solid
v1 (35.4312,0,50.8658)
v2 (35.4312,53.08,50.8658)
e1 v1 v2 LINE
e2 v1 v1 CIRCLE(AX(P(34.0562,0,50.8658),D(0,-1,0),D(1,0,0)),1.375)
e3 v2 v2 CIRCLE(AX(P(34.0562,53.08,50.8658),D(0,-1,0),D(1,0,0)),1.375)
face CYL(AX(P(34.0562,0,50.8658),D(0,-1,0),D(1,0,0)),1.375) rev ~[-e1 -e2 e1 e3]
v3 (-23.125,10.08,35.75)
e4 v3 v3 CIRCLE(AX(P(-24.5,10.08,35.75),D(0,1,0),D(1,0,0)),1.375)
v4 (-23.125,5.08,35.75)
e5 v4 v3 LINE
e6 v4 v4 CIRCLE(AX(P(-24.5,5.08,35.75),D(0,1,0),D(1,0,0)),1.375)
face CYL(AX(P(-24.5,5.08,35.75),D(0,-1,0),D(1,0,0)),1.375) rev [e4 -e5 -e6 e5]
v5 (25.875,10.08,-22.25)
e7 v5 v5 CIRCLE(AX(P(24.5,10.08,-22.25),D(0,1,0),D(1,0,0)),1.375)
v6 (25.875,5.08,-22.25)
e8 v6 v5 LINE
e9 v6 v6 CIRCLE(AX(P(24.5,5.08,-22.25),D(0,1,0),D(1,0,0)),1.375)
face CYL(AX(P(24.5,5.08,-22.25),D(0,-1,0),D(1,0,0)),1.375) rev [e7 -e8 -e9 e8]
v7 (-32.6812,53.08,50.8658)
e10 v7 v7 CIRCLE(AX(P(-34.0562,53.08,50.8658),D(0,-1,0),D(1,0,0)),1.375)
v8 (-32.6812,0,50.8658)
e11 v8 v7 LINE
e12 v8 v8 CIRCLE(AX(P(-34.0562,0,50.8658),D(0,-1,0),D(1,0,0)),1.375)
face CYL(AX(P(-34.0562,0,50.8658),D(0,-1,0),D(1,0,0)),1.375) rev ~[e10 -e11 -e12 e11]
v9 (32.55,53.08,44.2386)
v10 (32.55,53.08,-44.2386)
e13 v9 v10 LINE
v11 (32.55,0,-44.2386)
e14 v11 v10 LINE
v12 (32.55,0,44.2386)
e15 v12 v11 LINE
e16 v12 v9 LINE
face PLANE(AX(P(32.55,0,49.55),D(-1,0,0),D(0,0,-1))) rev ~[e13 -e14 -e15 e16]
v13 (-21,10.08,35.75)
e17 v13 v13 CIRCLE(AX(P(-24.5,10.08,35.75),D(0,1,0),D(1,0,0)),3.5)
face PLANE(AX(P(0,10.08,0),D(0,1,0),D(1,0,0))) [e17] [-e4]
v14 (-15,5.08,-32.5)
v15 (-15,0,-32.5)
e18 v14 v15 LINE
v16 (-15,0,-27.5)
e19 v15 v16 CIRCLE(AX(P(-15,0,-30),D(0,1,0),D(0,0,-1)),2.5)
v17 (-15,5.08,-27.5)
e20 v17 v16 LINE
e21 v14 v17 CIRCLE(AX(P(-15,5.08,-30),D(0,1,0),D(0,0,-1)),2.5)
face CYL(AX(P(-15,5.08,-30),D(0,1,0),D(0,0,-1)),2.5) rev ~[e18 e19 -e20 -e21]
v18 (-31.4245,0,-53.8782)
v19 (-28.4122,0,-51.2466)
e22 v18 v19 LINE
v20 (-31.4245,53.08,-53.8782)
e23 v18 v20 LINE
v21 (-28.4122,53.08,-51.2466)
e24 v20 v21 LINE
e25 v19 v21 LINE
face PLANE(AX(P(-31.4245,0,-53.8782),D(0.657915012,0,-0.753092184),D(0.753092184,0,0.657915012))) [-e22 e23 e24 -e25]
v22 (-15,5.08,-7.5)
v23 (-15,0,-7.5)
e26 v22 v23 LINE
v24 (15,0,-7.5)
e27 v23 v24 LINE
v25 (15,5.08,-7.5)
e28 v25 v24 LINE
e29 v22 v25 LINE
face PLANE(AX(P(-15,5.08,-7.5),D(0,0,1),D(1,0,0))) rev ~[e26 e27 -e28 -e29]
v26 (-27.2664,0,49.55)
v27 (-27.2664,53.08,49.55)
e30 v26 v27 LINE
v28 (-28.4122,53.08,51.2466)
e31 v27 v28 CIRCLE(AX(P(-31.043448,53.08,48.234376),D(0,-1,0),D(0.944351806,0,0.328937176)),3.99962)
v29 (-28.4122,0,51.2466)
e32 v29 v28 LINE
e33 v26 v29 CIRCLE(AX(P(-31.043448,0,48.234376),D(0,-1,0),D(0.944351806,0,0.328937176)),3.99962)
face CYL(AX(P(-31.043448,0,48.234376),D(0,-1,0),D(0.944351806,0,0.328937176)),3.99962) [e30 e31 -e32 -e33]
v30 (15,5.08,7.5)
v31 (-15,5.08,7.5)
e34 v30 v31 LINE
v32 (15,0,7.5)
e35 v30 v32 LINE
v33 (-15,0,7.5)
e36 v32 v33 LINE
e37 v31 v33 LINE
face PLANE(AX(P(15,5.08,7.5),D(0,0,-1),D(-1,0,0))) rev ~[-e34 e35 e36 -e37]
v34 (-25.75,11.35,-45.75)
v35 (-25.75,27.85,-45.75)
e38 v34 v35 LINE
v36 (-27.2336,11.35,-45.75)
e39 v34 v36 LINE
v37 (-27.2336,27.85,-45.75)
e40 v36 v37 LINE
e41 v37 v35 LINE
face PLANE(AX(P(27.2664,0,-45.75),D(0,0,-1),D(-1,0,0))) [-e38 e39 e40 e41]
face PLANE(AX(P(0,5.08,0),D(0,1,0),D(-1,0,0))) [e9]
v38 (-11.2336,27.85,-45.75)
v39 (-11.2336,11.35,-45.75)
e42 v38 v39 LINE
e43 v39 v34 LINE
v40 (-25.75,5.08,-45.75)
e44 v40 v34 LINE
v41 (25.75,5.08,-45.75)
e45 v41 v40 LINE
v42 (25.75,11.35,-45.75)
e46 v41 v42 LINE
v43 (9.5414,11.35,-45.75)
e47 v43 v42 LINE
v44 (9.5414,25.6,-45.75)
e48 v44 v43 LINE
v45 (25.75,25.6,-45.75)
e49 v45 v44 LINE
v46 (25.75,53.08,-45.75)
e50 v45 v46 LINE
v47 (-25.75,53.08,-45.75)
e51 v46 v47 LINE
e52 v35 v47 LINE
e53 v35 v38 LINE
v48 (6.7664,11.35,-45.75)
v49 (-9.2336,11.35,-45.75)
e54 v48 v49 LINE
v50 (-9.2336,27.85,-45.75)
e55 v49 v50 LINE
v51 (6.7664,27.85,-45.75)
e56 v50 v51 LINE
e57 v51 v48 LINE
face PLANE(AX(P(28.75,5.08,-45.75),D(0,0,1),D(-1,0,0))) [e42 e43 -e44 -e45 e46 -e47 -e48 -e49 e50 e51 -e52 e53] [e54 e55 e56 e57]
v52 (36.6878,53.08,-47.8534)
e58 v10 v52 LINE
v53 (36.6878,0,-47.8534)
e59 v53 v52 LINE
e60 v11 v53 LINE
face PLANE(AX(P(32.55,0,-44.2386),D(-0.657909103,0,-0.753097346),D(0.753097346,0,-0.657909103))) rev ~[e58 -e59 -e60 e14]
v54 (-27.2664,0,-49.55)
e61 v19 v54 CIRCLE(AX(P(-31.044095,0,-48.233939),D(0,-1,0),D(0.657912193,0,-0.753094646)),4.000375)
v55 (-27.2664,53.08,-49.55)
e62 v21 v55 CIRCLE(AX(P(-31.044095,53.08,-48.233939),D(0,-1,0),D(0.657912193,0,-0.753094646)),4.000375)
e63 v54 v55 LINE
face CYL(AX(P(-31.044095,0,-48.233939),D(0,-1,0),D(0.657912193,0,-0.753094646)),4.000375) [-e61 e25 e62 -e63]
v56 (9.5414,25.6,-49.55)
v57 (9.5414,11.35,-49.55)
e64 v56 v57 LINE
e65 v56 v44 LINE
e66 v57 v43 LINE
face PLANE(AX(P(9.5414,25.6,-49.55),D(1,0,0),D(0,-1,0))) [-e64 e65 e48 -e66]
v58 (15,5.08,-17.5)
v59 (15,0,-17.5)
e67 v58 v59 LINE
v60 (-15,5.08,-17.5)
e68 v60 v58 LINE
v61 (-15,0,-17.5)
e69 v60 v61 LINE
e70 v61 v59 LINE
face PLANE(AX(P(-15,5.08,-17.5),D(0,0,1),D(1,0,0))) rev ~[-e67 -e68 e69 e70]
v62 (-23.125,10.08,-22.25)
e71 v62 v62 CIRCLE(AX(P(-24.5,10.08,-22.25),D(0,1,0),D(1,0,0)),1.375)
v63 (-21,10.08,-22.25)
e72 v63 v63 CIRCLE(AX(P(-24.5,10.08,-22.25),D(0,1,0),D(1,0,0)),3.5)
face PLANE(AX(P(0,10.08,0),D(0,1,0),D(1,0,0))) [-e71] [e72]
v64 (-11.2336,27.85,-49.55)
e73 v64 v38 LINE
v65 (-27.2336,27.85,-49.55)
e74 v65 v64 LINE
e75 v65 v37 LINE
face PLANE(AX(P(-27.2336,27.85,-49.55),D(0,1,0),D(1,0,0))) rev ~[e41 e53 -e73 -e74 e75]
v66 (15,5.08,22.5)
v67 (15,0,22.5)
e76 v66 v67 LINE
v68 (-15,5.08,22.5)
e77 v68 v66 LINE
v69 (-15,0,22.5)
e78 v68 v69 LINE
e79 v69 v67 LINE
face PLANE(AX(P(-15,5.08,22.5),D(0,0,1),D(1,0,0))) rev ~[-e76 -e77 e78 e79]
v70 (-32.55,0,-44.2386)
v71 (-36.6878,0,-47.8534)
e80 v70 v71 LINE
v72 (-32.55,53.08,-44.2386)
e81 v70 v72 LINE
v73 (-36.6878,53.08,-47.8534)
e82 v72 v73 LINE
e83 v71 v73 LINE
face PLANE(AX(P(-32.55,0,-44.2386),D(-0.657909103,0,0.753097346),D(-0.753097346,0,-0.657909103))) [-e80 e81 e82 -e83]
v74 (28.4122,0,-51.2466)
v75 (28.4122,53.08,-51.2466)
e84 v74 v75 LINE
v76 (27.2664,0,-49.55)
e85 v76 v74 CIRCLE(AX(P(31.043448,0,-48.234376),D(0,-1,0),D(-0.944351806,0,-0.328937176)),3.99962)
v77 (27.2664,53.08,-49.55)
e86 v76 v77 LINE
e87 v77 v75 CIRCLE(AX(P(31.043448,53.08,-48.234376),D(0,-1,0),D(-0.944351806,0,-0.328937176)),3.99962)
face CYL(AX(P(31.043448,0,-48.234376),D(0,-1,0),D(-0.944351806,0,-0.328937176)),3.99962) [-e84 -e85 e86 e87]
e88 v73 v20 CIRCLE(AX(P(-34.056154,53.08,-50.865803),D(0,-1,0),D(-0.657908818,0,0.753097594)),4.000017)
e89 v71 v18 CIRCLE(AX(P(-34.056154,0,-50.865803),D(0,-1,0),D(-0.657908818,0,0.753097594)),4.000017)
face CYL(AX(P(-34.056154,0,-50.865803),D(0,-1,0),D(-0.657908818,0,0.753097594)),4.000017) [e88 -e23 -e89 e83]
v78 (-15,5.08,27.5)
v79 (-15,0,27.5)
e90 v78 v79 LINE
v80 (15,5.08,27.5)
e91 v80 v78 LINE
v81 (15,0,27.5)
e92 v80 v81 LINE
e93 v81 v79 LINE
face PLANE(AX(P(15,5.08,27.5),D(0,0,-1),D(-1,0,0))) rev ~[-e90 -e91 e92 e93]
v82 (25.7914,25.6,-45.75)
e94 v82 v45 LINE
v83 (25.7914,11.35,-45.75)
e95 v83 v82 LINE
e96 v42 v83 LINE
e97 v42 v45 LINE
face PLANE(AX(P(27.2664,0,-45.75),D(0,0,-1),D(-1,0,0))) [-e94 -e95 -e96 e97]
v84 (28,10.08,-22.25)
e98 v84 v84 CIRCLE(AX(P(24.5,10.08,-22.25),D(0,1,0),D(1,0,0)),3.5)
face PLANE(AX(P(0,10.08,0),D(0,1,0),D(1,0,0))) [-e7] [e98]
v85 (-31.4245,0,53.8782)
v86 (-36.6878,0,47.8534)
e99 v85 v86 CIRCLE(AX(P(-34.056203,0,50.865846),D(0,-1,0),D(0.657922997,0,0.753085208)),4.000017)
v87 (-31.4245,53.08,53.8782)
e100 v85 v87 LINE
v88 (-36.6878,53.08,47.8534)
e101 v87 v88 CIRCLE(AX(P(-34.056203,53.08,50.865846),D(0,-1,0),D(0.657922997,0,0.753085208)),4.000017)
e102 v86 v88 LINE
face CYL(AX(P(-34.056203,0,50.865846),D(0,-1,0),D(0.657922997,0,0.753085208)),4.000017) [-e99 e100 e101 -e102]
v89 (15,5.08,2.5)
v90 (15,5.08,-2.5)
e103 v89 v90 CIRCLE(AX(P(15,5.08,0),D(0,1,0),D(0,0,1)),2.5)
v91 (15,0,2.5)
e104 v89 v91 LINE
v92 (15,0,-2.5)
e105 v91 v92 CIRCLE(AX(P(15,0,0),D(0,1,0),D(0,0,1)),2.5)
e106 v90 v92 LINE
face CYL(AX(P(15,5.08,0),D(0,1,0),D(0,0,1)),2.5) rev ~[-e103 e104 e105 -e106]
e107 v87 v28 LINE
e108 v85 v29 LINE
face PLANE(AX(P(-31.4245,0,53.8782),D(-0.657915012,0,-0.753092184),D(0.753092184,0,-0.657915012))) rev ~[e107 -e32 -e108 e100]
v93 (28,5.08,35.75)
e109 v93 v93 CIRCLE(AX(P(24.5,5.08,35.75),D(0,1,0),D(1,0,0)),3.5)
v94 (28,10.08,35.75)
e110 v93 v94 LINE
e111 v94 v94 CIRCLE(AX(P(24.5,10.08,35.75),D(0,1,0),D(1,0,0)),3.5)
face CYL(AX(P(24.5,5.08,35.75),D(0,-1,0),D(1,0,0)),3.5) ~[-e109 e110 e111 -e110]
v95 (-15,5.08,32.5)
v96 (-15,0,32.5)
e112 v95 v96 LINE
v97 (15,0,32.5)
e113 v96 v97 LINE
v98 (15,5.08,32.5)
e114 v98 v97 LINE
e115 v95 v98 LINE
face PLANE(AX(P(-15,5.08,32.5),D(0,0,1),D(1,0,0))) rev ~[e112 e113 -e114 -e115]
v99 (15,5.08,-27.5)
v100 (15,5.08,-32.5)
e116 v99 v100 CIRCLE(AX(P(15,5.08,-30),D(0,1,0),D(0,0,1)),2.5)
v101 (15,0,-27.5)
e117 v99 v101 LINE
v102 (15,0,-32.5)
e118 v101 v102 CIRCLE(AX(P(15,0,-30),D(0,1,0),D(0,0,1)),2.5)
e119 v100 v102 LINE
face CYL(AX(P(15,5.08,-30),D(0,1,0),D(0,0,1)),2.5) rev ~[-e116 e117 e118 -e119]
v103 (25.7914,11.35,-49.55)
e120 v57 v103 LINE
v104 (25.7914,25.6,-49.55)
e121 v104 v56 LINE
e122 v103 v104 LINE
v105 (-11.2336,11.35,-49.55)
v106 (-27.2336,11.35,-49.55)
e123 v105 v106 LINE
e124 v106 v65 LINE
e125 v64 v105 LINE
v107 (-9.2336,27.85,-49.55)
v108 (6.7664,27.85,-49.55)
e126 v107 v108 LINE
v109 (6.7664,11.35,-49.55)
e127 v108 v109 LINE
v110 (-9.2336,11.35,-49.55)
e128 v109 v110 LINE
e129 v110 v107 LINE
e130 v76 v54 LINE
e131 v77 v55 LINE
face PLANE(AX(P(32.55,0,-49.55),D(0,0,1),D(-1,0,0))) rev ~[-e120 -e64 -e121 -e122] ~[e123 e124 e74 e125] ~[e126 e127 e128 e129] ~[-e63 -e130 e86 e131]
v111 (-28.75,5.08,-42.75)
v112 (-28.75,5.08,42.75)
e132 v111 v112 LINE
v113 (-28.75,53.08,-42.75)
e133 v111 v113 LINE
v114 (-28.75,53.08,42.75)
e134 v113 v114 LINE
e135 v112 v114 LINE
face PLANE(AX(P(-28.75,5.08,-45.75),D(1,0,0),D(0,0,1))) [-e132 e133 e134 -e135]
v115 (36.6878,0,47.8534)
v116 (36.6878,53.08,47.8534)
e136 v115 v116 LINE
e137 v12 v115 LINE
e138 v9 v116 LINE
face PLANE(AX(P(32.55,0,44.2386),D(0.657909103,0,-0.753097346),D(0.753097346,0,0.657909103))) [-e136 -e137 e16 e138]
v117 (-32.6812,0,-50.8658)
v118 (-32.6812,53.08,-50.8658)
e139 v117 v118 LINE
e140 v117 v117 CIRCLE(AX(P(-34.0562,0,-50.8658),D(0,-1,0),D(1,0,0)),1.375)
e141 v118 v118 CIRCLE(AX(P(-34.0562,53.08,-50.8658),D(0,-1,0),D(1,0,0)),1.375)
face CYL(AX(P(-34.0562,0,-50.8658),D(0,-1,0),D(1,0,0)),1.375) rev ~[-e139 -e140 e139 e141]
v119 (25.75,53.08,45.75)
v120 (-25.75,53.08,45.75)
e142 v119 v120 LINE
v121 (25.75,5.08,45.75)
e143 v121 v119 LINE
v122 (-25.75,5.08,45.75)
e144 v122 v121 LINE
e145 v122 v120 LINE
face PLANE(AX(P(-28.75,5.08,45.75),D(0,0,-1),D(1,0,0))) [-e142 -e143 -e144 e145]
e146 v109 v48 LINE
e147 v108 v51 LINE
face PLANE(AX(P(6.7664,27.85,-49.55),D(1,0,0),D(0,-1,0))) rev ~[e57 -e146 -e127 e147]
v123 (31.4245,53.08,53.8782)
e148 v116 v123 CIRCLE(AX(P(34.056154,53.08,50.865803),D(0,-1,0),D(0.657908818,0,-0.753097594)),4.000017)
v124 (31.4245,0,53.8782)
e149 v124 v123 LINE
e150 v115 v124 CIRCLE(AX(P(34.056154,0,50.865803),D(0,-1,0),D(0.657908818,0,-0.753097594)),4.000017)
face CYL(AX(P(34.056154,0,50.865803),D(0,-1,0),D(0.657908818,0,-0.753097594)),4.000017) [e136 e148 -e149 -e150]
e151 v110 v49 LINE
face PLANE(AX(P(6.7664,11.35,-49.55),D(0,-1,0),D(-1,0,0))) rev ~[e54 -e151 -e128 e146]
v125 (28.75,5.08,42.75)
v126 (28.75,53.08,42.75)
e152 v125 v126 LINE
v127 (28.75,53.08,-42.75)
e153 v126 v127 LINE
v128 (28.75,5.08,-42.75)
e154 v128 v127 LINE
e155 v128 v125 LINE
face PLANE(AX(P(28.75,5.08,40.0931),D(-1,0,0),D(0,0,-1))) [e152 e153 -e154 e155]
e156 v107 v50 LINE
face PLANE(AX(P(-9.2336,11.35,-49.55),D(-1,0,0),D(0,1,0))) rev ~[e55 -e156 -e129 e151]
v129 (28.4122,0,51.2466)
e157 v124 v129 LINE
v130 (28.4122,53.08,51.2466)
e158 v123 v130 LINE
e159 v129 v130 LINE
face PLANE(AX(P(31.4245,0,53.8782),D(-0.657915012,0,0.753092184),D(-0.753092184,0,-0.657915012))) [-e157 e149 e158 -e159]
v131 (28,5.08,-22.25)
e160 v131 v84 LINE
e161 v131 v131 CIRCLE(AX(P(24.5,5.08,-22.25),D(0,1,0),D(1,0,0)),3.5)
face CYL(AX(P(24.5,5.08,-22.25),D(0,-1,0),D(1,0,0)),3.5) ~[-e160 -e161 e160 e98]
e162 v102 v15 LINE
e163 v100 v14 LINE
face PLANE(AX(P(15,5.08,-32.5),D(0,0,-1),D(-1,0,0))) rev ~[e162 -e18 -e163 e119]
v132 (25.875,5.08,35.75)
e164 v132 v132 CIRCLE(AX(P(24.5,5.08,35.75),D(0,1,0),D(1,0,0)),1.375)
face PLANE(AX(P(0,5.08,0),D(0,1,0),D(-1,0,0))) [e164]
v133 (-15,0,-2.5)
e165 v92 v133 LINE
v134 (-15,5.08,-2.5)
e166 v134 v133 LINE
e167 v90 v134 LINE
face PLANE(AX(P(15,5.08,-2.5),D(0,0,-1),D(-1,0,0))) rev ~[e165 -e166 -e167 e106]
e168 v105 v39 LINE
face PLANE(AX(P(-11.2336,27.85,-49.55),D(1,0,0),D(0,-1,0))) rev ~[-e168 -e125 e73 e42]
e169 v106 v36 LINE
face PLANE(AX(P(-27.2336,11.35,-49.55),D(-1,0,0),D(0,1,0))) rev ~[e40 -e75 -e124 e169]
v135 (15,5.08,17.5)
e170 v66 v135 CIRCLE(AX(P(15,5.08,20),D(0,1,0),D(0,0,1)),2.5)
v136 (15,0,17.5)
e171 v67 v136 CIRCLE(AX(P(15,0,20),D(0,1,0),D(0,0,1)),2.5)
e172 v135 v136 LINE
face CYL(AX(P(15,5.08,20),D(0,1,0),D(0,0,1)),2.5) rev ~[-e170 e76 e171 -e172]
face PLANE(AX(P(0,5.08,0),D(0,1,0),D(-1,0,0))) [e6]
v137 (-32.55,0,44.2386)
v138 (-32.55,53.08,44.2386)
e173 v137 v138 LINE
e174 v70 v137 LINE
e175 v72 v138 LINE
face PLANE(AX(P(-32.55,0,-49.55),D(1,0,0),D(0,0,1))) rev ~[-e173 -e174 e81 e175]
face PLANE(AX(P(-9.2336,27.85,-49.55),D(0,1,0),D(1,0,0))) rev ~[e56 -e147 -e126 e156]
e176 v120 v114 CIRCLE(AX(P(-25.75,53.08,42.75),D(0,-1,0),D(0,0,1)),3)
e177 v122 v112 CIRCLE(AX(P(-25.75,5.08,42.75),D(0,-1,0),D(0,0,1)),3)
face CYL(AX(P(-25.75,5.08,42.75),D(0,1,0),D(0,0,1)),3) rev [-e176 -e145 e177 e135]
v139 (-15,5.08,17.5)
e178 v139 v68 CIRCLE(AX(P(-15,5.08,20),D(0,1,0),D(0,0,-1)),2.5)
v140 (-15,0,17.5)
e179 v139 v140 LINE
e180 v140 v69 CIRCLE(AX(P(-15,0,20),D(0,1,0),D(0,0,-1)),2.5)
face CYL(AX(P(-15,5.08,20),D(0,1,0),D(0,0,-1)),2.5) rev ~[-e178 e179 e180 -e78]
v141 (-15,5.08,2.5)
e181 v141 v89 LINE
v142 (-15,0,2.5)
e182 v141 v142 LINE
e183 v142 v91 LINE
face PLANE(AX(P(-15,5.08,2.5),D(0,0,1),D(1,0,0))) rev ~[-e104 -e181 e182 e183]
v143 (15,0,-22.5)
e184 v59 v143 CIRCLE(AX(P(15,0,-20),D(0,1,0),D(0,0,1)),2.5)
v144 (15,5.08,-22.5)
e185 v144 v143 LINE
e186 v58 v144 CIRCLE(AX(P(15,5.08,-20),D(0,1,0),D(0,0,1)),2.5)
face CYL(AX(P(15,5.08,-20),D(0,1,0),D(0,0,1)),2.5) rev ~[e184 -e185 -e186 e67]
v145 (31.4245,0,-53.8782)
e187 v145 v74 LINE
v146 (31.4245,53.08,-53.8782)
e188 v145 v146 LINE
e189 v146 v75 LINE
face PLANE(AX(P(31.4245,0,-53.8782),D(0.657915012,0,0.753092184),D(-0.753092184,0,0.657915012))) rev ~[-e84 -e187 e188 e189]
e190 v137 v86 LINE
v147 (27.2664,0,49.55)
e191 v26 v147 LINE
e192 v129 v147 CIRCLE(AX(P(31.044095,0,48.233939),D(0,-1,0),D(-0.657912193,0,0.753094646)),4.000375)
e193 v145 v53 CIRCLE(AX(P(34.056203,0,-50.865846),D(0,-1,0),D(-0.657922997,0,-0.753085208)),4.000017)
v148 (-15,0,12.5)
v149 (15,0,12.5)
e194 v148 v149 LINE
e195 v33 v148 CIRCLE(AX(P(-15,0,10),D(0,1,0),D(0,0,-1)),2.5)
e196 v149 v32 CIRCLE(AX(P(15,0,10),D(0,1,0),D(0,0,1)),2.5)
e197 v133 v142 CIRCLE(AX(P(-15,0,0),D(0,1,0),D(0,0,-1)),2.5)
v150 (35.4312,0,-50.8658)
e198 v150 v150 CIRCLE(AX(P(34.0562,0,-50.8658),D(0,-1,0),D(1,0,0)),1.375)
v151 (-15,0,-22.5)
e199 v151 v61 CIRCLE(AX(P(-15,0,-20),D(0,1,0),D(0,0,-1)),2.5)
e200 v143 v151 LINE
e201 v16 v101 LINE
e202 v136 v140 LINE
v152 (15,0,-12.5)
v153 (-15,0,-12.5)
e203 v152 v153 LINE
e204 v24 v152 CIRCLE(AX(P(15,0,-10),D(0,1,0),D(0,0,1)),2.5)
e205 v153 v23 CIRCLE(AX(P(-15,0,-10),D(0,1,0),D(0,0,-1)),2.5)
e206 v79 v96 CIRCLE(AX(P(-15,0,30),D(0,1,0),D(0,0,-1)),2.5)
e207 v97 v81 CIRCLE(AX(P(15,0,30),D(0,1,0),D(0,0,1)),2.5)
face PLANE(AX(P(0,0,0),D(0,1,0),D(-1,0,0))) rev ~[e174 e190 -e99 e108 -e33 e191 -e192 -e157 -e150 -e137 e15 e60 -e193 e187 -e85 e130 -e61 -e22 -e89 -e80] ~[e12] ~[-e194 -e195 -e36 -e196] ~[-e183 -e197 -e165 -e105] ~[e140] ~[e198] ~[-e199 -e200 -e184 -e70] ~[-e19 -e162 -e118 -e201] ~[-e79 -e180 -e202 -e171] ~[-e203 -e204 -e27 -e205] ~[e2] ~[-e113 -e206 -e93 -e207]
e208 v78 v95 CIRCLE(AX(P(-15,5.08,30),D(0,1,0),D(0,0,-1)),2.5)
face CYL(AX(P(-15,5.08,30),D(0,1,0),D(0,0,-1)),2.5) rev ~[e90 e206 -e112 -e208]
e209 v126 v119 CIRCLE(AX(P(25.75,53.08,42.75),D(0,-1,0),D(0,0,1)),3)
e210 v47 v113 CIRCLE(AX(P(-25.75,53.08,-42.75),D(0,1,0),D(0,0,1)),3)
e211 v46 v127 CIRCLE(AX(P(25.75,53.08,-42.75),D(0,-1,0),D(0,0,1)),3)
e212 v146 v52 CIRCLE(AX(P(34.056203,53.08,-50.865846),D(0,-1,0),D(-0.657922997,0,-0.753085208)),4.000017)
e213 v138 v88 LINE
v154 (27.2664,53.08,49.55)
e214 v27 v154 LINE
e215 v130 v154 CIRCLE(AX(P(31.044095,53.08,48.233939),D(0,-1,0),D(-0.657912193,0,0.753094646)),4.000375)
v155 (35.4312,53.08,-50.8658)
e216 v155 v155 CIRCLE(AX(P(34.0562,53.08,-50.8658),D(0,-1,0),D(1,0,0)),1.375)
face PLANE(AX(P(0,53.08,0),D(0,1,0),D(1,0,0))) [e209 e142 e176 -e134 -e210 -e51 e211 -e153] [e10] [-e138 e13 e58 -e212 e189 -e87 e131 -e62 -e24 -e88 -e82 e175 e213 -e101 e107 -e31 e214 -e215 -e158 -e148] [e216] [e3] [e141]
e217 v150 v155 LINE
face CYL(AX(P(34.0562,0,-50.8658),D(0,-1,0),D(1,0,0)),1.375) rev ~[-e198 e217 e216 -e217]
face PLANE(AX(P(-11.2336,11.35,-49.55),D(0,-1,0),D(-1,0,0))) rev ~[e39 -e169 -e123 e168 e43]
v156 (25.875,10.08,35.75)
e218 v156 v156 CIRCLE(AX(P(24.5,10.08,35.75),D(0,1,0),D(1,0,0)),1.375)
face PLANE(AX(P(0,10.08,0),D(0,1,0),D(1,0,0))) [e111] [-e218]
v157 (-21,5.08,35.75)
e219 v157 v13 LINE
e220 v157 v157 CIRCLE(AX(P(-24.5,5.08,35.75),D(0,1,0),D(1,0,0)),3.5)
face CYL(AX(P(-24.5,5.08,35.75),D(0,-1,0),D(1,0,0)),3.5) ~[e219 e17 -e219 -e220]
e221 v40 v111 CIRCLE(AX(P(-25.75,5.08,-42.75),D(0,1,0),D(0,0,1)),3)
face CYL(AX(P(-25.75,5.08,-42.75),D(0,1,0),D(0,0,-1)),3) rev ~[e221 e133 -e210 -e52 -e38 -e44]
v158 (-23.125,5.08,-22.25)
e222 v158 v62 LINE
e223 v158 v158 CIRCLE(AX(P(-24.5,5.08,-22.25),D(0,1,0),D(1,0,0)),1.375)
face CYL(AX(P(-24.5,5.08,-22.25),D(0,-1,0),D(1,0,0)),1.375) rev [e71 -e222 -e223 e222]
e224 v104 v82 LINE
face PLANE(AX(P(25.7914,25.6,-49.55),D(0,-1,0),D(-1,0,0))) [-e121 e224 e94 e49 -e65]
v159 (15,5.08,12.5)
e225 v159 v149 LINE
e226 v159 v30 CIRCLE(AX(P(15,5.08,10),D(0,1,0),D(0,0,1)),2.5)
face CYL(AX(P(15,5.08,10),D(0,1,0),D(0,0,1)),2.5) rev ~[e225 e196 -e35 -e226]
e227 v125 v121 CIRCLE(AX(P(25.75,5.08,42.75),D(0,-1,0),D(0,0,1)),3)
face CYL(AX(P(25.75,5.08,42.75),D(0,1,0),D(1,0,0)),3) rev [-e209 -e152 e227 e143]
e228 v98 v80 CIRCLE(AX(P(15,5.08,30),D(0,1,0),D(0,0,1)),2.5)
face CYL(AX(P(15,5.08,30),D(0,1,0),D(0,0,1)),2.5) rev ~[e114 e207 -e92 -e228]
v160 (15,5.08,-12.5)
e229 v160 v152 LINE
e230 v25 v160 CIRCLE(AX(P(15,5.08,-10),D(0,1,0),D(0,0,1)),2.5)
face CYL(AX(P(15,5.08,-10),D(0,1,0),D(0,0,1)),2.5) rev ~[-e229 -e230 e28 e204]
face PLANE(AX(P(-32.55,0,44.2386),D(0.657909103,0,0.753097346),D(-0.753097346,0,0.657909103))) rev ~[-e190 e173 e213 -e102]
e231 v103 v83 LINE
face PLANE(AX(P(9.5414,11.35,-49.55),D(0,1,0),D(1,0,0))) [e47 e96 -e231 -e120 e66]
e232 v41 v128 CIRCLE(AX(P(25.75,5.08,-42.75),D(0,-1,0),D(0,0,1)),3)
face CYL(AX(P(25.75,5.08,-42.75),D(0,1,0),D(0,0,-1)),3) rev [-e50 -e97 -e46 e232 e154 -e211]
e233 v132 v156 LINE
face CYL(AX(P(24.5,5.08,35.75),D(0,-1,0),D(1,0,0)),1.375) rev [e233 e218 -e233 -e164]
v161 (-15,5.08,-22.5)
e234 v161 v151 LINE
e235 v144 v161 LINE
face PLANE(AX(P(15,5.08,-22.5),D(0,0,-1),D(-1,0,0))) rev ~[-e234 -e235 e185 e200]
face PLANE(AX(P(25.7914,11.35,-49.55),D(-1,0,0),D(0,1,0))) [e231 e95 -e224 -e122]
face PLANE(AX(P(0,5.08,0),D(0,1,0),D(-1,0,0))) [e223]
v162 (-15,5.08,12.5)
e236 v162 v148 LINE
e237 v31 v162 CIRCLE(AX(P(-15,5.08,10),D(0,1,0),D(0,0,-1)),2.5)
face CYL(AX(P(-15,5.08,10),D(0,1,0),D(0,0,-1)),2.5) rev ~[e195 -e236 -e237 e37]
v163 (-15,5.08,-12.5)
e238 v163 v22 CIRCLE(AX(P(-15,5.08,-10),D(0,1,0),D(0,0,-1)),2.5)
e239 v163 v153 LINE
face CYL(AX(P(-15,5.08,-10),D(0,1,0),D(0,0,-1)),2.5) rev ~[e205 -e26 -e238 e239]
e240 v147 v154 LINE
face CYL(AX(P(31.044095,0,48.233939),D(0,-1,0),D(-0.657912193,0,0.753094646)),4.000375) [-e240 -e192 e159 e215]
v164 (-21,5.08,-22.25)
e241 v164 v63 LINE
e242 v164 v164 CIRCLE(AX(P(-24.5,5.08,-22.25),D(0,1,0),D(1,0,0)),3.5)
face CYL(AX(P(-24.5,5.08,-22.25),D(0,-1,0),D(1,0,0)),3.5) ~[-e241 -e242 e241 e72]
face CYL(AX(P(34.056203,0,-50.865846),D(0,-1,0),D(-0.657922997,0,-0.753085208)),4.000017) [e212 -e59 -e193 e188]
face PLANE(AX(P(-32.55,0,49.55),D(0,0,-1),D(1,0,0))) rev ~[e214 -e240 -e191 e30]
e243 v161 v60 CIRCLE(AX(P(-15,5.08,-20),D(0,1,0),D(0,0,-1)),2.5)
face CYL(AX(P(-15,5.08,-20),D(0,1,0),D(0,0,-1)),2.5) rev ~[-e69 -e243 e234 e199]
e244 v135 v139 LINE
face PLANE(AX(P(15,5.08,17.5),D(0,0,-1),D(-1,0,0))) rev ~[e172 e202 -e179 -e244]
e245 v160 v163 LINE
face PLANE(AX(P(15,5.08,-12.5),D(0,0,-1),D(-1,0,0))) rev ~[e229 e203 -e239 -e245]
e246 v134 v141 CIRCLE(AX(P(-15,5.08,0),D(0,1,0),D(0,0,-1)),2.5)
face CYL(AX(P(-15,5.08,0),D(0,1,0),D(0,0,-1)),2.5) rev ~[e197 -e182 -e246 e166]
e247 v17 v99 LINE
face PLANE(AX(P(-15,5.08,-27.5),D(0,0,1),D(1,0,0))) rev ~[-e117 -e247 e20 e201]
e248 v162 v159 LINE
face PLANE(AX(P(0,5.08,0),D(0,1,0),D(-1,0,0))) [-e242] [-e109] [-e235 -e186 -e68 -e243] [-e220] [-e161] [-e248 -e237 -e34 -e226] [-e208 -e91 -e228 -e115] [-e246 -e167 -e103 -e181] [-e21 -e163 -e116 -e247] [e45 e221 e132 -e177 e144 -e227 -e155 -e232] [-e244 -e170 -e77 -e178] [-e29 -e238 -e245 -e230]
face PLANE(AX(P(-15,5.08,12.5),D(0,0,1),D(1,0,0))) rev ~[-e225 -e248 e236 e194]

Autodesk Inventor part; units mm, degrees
ref_plane "YZ Plane" through (0, 0, 0) normal (1, 0, 0) x (0, 1, 0)
ref_plane "XZ Plane" through (0, 0, 0) normal (0, 1, 0) x (-1, 0, 0)
ref_plane "XY Plane" through (0, 0, 0) normal (0, 0, 1) x (1, 0, 0)
sketch "Sketch1" plane through (0, 0, 0) normal (0, 1, 0) x (-1, 0, 0)
  line L0 (-32.55, -49.55) -> (32.55, -49.55)
  line L1 (32.55, -49.55) -> (32.55, 49.55)
  line L2 (32.55, 49.55) -> (-32.55, 49.55)
  line L3 (-32.55, 49.55) -> (-32.55, -49.55)
  line L4 (-32.55, -49.55) -> (32.55, 49.55) construction
  line L5 (32.55, -49.55) -> (-32.55, 49.55) construction
  point P0 (0, 0)
  dimension "d0" = 65.1
  dimension "d1" = 99.1
extrude "Extrusion1" add sketch "Sketch1" along normal blind 5.08
sketch "Sketch2" plane through (0, 5.08, 0) normal (0, 1, 0) x (1, 0, 0)
  line L0 (28.75, 45.75) -> (-28.75, 45.75)
  line L1 (-28.75, 45.75) -> (-28.75, -45.75)
  line L2 (-28.75, -45.75) -> (28.75, -45.75)
  line L3 (28.75, -45.75) -> (28.75, 45.75)
  line L4 (28.75, 45.75) -> (-28.75, -45.75) construction
  line L5 (-28.75, 45.75) -> (28.75, -45.75) construction
  line L6 (-32.55, 49.55) -> (-32.55, -49.55) projected
  line L7 (-32.55, -49.55) -> (32.55, -49.55) projected
  line L8 (32.55, 49.55) -> (-32.55, 49.55) projected
  line L9 (32.55, -49.55) -> (32.55, 49.55) projected
  line L10 (24.95, -41.95) -> (32.55, -49.55) construction
  line L11 (23.0931, -45.75) -> (29.7216, -52.3784)
  line L12 (35.3784, -46.7216) -> (28.75, -40.0931)
  arc A0 (29.7216, -52.3784) -> (35.3784, -46.7216) centre (32.55, -49.55) ccw
  circle A1 centre (32.55, -49.55) radius 1.375
  point P0 (0, 0)
  dimension "d4" = 3.8
  dimension "d5" = 3.8
  dimension "d22" = 8
  dimension "d23" = 2.75
extrude "Extrusion2" add sketch "Sketch2" along normal blind 48 contours L0 L1 L2 L11 L7 L6 L8 L9 L12 L3 | L12 L9 A1 L7 L11 L2 L3 | L9 L7 A1 picked at (32.448, -48.6448)
sketch "Sketch3" plane through (0, 5.08, 0) normal (0, 1, 0) x (1, 0, 0)
  line L0 (28.75, -45.75) -> (-28.75, -45.75) construction
  line L1 (0, -45.75) -> (0, 45.75) construction
  line L2 (28.75, 45.75) -> (-28.75, 45.75) construction
  circle A0 centre (-24.5, -35.75) radius 3.5
  circle A1 centre (-24.5, -35.75) radius 1.375
  line L3 (28.75, 45.75) -> (28.75, -45.75) construction
  line L4 (28.75, 0) -> (-28.75, 0) construction
  line L5 (-28.75, -45.75) -> (-28.75, 45.75) construction
  circle A2 centre (-24.5, 22.25) radius 3.5
  circle A3 centre (-24.5, 22.25) radius 1.375
  circle A4 centre (24.5, -35.75) radius 3.5
  circle A5 centre (24.5, -35.75) radius 1.375
  circle A6 centre (24.5, 22.25) radius 3.5
  circle A7 centre (24.5, 22.25) radius 1.375
  point P0 (0, 0)
  dimension "d8" = 7
  dimension "d9" = 2.75
  dimension "d10" = 10
  dimension "d11" = 24.5
  dimension "d14" = 58
extrude "Extrusion3" add sketch "Sketch3" along normal blind 5
sketch "Sketch4" plane through (0, 0, 0) normal (0, -1, 0) x (1, 0, 0)
  line L0 (31.0438, 48.2342) -> (34.0562, 50.8658) construction
  line L1 (32.55, 49.55) -> (32.55, -49.55) projected
  line L2 (32.55, 44.2386) -> (36.6878, 47.8534)
  line L3 (31.4245, 53.8782) -> (28.4122, 51.2466)
  arc A0 (28.4122, 51.2466) -> (27.2664, 49.55) centre (31.0438, 48.2342) ccw
  arc A1 (36.6878, 47.8534) -> (31.4245, 53.8782) centre (34.0562, 50.8658) ccw
  line L4 (-32.55, 49.55) -> (32.55, 49.55) projected
  line L5 (27.2664, 49.55) -> (32.55, 49.55)
  line L6 (32.55, 49.55) -> (32.55, 44.2386)
  circle A2 centre (34.0562, 50.8658) radius 1.375
  line L7 (0, 49.55) -> (0, -49.55) construction
  line L8 (32.55, -49.55) -> (-32.55, -49.55) construction
  line L9 (32.55, 0) -> (-33.3, 0) construction
  line L10 (32.55, -49.55) -> (32.55, 49.55)
  line L11 (32.55, -44.2386) -> (36.6878, -47.8534)
  line L12 (31.4245, -53.8782) -> (28.4122, -51.2466)
  arc A3 (27.2664, -49.55) -> (28.4122, -51.2466) centre (31.0438, -48.2342) ccw
  arc A4 (31.4245, -53.8782) -> (36.6878, -47.8534) centre (34.0562, -50.8658) ccw
  line L13 (-32.55, -49.55) -> (32.55, -49.55)
  circle A5 centre (34.0562, -50.8658) radius 1.375
  line L14 (-32.55, 49.55) -> (-32.55, -49.55)
  line L15 (-32.55, 44.2386) -> (-36.6878, 47.8534)
  line L16 (-31.4245, 53.8782) -> (-28.4122, 51.2466)
  arc A6 (-27.2664, 49.55) -> (-28.4122, 51.2466) centre (-31.0438, 48.2342) ccw
  arc A7 (-31.4245, 53.8782) -> (-36.6878, 47.8534) centre (-34.0562, 50.8658) ccw
  line L17 (-27.2664, 49.55) -> (-32.55, 49.55)
  circle A8 centre (-34.0562, 50.8658) radius 1.375
  arc A9 (-36.6878, -47.8534) -> (-31.4245, -53.8782) centre (-34.0562, -50.8658) ccw
  line L18 (-32.55, -44.2386) -> (-36.6878, -47.8534)
  line L19 (-31.4245, -53.8782) -> (-28.4122, -51.2466)
  arc A10 (-28.4122, -51.2466) -> (-27.2664, -49.55) centre (-31.0438, -48.2342) ccw
  circle A11 centre (-34.0562, -50.8658) radius 1.375
  line L20 (-27.2664, -49.55) -> (-32.55, -49.55)
  line L21 (-32.55, -49.55) -> (-32.55, 49.55)
  point P0 (0, 0)
  point P1 (-27.2664, -49.55)
  point P2 (-27.2664, 49.55)
  point P3 (32.55, -44.2386)
  point P4 (32.55, -49.55)
  dimension "d24" = 2
  dimension "d25" = 8
  dimension "d26" = 131.141
  dimension "d27" = 2.75
extrude "Extrusion4" add sketch "Sketch4" against normal up to surface (53.08 mm away) contours L4 A0 L3 A1 L2 L1 | L11 A4 L12 A3 L13 L1 | L4 L14 L15 A7 L16 A6 | A10 L19 A9 L18 L14 L13
fillet "Fillet2" radius 3 4 edges at (28.75, 29.08, -45.75) (-28.75, 29.08, -45.75) (-28.75, 29.08, 45.75) (28.75, 29.08, 45.75)
sketch "Sketch5" plane through (0, 5.08, 0) normal (0, 1, 0) x (1, 0, 0)
  line L0 (15, 0) -> (-15, 0) construction
  line L1 (15, 2.5) -> (-15, 2.5)
  line L2 (-15, -2.5) -> (15, -2.5)
  arc A0 (15, -2.5) -> (15, 2.5) centre (15, 0) ccw
  arc A1 (-15, 2.5) -> (-15, -2.5) centre (-15, 0) ccw
  line L3 (-25.75, -45.75) -> (25.75, -45.75) construction
  line L4 (0, -45.75) -> (0, 45.75) construction
  line L5 (-25.75, 45.75) -> (25.75, 45.75) construction
  arc A2 (-15, 12.5) -> (-15, 7.5) centre (-15, 10) ccw
  line L6 (15, 12.5) -> (-15, 12.5)
  line L7 (-15, 7.5) -> (15, 7.5)
  arc A3 (15, 7.5) -> (15, 12.5) centre (15, 10) ccw
  arc A4 (-15, 22.5) -> (-15, 17.5) centre (-15, 20) ccw
  line L8 (15, 22.5) -> (-15, 22.5)
  line L9 (-15, 17.5) -> (15, 17.5)
  arc A5 (15, 17.5) -> (15, 22.5) centre (15, 20) ccw
  arc A6 (-15, 32.5) -> (-15, 27.5) centre (-15, 30) ccw
  line L10 (15, 32.5) -> (-15, 32.5)
  line L11 (-15, 27.5) -> (15, 27.5)
  arc A7 (15, 27.5) -> (15, 32.5) centre (15, 30) ccw
  arc A8 (-15, -7.5) -> (-15, -12.5) centre (-15, -10) ccw
  line L12 (-15, -12.5) -> (15, -12.5)
  line L13 (15, -7.5) -> (-15, -7.5)
  arc A9 (15, -12.5) -> (15, -7.5) centre (15, -10) ccw
  arc A10 (-15, -17.5) -> (-15, -22.5) centre (-15, -20) ccw
  line L14 (-15, -22.5) -> (15, -22.5)
  line L15 (15, -17.5) -> (-15, -17.5)
  arc A11 (15, -22.5) -> (15, -17.5) centre (15, -20) ccw
  arc A12 (-15, -27.5) -> (-15, -32.5) centre (-15, -30) ccw
  line L16 (-15, -32.5) -> (15, -32.5)
  line L17 (15, -27.5) -> (-15, -27.5)
  arc A13 (15, -32.5) -> (15, -27.5) centre (15, -30) ccw
  point P0 (0, 0)
  dimension "d31" = 15
  dimension "d32" = 5
  dimension "d35" = 10
  dimension "d42" = 10
extrude "Extrusion5" cut sketch "Sketch5" against normal up to surface (5.08 mm away)
sketch "Sketch9" plane through (27.2664, 0, -49.55) normal (0, 0, -1) x (-1, 0, 0)
  line L0 (6.2664, 10.08) -> (-0.7336, 10.08) projected
  line L1 (1.3914, 10.08) -> (4.1414, 10.08) projected
  line L2 (1.3914, 10.08) -> (4.1414, 10.08) construction
  line L3 (2.7664, 10.08) -> (-0.7336, 10.08) construction
  line L4 (6.2664, 10.08) -> (-0.7336, 10.08) projected
  line L5 (0, 53.08) -> (0, 0) projected
  line L6 (-0.7336, 10.08) -> (0, 13.5023) construction
  line L7 (17.725, 11.35) -> (1.475, 11.35)
  line L8 (1.475, 11.35) -> (1.475, 25.6)
  line L9 (1.475, 25.6) -> (17.725, 25.6)
  line L10 (17.725, 25.6) -> (17.725, 11.35)
  line L11 (9.6, 25.6) -> (9.6, 11.35) construction
  line L12 (20.5, 11.35) -> (36.5, 11.35)
  line L13 (36.5, 11.35) -> (36.5, 27.85)
  line L14 (36.5, 27.85) -> (20.5, 27.85)
  line L15 (20.5, 27.85) -> (20.5, 11.35)
  line L16 (28.5, 27.85) -> (28.5, 11.35) construction
  line L17 (54.5, 27.85) -> (38.5, 27.85)
  line L18 (54.5, 11.35) -> (54.5, 27.85)
  line L19 (38.5, 11.35) -> (54.5, 11.35)
  line L20 (38.5, 27.85) -> (38.5, 11.35)
  point P0 (27.2664, 0)
  point P1 (46.5, 27.85)
  point P2 (46.5, 11.35)
  dimension "d58" = 3.5
  dimension "d60" = 3.5
  dimension "d63" = 16.25
  dimension "d64" = 14.25
  dimension "d65" = 1.27
  dimension "d66" = 9.6
  dimension "d69" = 16
  dimension "d70" = 16.5
  dimension "d71" = 1.27
  dimension "d72" = 28.5
  dimension "d75" = 18
extrude "Extrusion7" cut sketch "Sketch9" against normal up to surface (3.8 mm away)
properties part number "Case RevC" material "ABS Plastic"
